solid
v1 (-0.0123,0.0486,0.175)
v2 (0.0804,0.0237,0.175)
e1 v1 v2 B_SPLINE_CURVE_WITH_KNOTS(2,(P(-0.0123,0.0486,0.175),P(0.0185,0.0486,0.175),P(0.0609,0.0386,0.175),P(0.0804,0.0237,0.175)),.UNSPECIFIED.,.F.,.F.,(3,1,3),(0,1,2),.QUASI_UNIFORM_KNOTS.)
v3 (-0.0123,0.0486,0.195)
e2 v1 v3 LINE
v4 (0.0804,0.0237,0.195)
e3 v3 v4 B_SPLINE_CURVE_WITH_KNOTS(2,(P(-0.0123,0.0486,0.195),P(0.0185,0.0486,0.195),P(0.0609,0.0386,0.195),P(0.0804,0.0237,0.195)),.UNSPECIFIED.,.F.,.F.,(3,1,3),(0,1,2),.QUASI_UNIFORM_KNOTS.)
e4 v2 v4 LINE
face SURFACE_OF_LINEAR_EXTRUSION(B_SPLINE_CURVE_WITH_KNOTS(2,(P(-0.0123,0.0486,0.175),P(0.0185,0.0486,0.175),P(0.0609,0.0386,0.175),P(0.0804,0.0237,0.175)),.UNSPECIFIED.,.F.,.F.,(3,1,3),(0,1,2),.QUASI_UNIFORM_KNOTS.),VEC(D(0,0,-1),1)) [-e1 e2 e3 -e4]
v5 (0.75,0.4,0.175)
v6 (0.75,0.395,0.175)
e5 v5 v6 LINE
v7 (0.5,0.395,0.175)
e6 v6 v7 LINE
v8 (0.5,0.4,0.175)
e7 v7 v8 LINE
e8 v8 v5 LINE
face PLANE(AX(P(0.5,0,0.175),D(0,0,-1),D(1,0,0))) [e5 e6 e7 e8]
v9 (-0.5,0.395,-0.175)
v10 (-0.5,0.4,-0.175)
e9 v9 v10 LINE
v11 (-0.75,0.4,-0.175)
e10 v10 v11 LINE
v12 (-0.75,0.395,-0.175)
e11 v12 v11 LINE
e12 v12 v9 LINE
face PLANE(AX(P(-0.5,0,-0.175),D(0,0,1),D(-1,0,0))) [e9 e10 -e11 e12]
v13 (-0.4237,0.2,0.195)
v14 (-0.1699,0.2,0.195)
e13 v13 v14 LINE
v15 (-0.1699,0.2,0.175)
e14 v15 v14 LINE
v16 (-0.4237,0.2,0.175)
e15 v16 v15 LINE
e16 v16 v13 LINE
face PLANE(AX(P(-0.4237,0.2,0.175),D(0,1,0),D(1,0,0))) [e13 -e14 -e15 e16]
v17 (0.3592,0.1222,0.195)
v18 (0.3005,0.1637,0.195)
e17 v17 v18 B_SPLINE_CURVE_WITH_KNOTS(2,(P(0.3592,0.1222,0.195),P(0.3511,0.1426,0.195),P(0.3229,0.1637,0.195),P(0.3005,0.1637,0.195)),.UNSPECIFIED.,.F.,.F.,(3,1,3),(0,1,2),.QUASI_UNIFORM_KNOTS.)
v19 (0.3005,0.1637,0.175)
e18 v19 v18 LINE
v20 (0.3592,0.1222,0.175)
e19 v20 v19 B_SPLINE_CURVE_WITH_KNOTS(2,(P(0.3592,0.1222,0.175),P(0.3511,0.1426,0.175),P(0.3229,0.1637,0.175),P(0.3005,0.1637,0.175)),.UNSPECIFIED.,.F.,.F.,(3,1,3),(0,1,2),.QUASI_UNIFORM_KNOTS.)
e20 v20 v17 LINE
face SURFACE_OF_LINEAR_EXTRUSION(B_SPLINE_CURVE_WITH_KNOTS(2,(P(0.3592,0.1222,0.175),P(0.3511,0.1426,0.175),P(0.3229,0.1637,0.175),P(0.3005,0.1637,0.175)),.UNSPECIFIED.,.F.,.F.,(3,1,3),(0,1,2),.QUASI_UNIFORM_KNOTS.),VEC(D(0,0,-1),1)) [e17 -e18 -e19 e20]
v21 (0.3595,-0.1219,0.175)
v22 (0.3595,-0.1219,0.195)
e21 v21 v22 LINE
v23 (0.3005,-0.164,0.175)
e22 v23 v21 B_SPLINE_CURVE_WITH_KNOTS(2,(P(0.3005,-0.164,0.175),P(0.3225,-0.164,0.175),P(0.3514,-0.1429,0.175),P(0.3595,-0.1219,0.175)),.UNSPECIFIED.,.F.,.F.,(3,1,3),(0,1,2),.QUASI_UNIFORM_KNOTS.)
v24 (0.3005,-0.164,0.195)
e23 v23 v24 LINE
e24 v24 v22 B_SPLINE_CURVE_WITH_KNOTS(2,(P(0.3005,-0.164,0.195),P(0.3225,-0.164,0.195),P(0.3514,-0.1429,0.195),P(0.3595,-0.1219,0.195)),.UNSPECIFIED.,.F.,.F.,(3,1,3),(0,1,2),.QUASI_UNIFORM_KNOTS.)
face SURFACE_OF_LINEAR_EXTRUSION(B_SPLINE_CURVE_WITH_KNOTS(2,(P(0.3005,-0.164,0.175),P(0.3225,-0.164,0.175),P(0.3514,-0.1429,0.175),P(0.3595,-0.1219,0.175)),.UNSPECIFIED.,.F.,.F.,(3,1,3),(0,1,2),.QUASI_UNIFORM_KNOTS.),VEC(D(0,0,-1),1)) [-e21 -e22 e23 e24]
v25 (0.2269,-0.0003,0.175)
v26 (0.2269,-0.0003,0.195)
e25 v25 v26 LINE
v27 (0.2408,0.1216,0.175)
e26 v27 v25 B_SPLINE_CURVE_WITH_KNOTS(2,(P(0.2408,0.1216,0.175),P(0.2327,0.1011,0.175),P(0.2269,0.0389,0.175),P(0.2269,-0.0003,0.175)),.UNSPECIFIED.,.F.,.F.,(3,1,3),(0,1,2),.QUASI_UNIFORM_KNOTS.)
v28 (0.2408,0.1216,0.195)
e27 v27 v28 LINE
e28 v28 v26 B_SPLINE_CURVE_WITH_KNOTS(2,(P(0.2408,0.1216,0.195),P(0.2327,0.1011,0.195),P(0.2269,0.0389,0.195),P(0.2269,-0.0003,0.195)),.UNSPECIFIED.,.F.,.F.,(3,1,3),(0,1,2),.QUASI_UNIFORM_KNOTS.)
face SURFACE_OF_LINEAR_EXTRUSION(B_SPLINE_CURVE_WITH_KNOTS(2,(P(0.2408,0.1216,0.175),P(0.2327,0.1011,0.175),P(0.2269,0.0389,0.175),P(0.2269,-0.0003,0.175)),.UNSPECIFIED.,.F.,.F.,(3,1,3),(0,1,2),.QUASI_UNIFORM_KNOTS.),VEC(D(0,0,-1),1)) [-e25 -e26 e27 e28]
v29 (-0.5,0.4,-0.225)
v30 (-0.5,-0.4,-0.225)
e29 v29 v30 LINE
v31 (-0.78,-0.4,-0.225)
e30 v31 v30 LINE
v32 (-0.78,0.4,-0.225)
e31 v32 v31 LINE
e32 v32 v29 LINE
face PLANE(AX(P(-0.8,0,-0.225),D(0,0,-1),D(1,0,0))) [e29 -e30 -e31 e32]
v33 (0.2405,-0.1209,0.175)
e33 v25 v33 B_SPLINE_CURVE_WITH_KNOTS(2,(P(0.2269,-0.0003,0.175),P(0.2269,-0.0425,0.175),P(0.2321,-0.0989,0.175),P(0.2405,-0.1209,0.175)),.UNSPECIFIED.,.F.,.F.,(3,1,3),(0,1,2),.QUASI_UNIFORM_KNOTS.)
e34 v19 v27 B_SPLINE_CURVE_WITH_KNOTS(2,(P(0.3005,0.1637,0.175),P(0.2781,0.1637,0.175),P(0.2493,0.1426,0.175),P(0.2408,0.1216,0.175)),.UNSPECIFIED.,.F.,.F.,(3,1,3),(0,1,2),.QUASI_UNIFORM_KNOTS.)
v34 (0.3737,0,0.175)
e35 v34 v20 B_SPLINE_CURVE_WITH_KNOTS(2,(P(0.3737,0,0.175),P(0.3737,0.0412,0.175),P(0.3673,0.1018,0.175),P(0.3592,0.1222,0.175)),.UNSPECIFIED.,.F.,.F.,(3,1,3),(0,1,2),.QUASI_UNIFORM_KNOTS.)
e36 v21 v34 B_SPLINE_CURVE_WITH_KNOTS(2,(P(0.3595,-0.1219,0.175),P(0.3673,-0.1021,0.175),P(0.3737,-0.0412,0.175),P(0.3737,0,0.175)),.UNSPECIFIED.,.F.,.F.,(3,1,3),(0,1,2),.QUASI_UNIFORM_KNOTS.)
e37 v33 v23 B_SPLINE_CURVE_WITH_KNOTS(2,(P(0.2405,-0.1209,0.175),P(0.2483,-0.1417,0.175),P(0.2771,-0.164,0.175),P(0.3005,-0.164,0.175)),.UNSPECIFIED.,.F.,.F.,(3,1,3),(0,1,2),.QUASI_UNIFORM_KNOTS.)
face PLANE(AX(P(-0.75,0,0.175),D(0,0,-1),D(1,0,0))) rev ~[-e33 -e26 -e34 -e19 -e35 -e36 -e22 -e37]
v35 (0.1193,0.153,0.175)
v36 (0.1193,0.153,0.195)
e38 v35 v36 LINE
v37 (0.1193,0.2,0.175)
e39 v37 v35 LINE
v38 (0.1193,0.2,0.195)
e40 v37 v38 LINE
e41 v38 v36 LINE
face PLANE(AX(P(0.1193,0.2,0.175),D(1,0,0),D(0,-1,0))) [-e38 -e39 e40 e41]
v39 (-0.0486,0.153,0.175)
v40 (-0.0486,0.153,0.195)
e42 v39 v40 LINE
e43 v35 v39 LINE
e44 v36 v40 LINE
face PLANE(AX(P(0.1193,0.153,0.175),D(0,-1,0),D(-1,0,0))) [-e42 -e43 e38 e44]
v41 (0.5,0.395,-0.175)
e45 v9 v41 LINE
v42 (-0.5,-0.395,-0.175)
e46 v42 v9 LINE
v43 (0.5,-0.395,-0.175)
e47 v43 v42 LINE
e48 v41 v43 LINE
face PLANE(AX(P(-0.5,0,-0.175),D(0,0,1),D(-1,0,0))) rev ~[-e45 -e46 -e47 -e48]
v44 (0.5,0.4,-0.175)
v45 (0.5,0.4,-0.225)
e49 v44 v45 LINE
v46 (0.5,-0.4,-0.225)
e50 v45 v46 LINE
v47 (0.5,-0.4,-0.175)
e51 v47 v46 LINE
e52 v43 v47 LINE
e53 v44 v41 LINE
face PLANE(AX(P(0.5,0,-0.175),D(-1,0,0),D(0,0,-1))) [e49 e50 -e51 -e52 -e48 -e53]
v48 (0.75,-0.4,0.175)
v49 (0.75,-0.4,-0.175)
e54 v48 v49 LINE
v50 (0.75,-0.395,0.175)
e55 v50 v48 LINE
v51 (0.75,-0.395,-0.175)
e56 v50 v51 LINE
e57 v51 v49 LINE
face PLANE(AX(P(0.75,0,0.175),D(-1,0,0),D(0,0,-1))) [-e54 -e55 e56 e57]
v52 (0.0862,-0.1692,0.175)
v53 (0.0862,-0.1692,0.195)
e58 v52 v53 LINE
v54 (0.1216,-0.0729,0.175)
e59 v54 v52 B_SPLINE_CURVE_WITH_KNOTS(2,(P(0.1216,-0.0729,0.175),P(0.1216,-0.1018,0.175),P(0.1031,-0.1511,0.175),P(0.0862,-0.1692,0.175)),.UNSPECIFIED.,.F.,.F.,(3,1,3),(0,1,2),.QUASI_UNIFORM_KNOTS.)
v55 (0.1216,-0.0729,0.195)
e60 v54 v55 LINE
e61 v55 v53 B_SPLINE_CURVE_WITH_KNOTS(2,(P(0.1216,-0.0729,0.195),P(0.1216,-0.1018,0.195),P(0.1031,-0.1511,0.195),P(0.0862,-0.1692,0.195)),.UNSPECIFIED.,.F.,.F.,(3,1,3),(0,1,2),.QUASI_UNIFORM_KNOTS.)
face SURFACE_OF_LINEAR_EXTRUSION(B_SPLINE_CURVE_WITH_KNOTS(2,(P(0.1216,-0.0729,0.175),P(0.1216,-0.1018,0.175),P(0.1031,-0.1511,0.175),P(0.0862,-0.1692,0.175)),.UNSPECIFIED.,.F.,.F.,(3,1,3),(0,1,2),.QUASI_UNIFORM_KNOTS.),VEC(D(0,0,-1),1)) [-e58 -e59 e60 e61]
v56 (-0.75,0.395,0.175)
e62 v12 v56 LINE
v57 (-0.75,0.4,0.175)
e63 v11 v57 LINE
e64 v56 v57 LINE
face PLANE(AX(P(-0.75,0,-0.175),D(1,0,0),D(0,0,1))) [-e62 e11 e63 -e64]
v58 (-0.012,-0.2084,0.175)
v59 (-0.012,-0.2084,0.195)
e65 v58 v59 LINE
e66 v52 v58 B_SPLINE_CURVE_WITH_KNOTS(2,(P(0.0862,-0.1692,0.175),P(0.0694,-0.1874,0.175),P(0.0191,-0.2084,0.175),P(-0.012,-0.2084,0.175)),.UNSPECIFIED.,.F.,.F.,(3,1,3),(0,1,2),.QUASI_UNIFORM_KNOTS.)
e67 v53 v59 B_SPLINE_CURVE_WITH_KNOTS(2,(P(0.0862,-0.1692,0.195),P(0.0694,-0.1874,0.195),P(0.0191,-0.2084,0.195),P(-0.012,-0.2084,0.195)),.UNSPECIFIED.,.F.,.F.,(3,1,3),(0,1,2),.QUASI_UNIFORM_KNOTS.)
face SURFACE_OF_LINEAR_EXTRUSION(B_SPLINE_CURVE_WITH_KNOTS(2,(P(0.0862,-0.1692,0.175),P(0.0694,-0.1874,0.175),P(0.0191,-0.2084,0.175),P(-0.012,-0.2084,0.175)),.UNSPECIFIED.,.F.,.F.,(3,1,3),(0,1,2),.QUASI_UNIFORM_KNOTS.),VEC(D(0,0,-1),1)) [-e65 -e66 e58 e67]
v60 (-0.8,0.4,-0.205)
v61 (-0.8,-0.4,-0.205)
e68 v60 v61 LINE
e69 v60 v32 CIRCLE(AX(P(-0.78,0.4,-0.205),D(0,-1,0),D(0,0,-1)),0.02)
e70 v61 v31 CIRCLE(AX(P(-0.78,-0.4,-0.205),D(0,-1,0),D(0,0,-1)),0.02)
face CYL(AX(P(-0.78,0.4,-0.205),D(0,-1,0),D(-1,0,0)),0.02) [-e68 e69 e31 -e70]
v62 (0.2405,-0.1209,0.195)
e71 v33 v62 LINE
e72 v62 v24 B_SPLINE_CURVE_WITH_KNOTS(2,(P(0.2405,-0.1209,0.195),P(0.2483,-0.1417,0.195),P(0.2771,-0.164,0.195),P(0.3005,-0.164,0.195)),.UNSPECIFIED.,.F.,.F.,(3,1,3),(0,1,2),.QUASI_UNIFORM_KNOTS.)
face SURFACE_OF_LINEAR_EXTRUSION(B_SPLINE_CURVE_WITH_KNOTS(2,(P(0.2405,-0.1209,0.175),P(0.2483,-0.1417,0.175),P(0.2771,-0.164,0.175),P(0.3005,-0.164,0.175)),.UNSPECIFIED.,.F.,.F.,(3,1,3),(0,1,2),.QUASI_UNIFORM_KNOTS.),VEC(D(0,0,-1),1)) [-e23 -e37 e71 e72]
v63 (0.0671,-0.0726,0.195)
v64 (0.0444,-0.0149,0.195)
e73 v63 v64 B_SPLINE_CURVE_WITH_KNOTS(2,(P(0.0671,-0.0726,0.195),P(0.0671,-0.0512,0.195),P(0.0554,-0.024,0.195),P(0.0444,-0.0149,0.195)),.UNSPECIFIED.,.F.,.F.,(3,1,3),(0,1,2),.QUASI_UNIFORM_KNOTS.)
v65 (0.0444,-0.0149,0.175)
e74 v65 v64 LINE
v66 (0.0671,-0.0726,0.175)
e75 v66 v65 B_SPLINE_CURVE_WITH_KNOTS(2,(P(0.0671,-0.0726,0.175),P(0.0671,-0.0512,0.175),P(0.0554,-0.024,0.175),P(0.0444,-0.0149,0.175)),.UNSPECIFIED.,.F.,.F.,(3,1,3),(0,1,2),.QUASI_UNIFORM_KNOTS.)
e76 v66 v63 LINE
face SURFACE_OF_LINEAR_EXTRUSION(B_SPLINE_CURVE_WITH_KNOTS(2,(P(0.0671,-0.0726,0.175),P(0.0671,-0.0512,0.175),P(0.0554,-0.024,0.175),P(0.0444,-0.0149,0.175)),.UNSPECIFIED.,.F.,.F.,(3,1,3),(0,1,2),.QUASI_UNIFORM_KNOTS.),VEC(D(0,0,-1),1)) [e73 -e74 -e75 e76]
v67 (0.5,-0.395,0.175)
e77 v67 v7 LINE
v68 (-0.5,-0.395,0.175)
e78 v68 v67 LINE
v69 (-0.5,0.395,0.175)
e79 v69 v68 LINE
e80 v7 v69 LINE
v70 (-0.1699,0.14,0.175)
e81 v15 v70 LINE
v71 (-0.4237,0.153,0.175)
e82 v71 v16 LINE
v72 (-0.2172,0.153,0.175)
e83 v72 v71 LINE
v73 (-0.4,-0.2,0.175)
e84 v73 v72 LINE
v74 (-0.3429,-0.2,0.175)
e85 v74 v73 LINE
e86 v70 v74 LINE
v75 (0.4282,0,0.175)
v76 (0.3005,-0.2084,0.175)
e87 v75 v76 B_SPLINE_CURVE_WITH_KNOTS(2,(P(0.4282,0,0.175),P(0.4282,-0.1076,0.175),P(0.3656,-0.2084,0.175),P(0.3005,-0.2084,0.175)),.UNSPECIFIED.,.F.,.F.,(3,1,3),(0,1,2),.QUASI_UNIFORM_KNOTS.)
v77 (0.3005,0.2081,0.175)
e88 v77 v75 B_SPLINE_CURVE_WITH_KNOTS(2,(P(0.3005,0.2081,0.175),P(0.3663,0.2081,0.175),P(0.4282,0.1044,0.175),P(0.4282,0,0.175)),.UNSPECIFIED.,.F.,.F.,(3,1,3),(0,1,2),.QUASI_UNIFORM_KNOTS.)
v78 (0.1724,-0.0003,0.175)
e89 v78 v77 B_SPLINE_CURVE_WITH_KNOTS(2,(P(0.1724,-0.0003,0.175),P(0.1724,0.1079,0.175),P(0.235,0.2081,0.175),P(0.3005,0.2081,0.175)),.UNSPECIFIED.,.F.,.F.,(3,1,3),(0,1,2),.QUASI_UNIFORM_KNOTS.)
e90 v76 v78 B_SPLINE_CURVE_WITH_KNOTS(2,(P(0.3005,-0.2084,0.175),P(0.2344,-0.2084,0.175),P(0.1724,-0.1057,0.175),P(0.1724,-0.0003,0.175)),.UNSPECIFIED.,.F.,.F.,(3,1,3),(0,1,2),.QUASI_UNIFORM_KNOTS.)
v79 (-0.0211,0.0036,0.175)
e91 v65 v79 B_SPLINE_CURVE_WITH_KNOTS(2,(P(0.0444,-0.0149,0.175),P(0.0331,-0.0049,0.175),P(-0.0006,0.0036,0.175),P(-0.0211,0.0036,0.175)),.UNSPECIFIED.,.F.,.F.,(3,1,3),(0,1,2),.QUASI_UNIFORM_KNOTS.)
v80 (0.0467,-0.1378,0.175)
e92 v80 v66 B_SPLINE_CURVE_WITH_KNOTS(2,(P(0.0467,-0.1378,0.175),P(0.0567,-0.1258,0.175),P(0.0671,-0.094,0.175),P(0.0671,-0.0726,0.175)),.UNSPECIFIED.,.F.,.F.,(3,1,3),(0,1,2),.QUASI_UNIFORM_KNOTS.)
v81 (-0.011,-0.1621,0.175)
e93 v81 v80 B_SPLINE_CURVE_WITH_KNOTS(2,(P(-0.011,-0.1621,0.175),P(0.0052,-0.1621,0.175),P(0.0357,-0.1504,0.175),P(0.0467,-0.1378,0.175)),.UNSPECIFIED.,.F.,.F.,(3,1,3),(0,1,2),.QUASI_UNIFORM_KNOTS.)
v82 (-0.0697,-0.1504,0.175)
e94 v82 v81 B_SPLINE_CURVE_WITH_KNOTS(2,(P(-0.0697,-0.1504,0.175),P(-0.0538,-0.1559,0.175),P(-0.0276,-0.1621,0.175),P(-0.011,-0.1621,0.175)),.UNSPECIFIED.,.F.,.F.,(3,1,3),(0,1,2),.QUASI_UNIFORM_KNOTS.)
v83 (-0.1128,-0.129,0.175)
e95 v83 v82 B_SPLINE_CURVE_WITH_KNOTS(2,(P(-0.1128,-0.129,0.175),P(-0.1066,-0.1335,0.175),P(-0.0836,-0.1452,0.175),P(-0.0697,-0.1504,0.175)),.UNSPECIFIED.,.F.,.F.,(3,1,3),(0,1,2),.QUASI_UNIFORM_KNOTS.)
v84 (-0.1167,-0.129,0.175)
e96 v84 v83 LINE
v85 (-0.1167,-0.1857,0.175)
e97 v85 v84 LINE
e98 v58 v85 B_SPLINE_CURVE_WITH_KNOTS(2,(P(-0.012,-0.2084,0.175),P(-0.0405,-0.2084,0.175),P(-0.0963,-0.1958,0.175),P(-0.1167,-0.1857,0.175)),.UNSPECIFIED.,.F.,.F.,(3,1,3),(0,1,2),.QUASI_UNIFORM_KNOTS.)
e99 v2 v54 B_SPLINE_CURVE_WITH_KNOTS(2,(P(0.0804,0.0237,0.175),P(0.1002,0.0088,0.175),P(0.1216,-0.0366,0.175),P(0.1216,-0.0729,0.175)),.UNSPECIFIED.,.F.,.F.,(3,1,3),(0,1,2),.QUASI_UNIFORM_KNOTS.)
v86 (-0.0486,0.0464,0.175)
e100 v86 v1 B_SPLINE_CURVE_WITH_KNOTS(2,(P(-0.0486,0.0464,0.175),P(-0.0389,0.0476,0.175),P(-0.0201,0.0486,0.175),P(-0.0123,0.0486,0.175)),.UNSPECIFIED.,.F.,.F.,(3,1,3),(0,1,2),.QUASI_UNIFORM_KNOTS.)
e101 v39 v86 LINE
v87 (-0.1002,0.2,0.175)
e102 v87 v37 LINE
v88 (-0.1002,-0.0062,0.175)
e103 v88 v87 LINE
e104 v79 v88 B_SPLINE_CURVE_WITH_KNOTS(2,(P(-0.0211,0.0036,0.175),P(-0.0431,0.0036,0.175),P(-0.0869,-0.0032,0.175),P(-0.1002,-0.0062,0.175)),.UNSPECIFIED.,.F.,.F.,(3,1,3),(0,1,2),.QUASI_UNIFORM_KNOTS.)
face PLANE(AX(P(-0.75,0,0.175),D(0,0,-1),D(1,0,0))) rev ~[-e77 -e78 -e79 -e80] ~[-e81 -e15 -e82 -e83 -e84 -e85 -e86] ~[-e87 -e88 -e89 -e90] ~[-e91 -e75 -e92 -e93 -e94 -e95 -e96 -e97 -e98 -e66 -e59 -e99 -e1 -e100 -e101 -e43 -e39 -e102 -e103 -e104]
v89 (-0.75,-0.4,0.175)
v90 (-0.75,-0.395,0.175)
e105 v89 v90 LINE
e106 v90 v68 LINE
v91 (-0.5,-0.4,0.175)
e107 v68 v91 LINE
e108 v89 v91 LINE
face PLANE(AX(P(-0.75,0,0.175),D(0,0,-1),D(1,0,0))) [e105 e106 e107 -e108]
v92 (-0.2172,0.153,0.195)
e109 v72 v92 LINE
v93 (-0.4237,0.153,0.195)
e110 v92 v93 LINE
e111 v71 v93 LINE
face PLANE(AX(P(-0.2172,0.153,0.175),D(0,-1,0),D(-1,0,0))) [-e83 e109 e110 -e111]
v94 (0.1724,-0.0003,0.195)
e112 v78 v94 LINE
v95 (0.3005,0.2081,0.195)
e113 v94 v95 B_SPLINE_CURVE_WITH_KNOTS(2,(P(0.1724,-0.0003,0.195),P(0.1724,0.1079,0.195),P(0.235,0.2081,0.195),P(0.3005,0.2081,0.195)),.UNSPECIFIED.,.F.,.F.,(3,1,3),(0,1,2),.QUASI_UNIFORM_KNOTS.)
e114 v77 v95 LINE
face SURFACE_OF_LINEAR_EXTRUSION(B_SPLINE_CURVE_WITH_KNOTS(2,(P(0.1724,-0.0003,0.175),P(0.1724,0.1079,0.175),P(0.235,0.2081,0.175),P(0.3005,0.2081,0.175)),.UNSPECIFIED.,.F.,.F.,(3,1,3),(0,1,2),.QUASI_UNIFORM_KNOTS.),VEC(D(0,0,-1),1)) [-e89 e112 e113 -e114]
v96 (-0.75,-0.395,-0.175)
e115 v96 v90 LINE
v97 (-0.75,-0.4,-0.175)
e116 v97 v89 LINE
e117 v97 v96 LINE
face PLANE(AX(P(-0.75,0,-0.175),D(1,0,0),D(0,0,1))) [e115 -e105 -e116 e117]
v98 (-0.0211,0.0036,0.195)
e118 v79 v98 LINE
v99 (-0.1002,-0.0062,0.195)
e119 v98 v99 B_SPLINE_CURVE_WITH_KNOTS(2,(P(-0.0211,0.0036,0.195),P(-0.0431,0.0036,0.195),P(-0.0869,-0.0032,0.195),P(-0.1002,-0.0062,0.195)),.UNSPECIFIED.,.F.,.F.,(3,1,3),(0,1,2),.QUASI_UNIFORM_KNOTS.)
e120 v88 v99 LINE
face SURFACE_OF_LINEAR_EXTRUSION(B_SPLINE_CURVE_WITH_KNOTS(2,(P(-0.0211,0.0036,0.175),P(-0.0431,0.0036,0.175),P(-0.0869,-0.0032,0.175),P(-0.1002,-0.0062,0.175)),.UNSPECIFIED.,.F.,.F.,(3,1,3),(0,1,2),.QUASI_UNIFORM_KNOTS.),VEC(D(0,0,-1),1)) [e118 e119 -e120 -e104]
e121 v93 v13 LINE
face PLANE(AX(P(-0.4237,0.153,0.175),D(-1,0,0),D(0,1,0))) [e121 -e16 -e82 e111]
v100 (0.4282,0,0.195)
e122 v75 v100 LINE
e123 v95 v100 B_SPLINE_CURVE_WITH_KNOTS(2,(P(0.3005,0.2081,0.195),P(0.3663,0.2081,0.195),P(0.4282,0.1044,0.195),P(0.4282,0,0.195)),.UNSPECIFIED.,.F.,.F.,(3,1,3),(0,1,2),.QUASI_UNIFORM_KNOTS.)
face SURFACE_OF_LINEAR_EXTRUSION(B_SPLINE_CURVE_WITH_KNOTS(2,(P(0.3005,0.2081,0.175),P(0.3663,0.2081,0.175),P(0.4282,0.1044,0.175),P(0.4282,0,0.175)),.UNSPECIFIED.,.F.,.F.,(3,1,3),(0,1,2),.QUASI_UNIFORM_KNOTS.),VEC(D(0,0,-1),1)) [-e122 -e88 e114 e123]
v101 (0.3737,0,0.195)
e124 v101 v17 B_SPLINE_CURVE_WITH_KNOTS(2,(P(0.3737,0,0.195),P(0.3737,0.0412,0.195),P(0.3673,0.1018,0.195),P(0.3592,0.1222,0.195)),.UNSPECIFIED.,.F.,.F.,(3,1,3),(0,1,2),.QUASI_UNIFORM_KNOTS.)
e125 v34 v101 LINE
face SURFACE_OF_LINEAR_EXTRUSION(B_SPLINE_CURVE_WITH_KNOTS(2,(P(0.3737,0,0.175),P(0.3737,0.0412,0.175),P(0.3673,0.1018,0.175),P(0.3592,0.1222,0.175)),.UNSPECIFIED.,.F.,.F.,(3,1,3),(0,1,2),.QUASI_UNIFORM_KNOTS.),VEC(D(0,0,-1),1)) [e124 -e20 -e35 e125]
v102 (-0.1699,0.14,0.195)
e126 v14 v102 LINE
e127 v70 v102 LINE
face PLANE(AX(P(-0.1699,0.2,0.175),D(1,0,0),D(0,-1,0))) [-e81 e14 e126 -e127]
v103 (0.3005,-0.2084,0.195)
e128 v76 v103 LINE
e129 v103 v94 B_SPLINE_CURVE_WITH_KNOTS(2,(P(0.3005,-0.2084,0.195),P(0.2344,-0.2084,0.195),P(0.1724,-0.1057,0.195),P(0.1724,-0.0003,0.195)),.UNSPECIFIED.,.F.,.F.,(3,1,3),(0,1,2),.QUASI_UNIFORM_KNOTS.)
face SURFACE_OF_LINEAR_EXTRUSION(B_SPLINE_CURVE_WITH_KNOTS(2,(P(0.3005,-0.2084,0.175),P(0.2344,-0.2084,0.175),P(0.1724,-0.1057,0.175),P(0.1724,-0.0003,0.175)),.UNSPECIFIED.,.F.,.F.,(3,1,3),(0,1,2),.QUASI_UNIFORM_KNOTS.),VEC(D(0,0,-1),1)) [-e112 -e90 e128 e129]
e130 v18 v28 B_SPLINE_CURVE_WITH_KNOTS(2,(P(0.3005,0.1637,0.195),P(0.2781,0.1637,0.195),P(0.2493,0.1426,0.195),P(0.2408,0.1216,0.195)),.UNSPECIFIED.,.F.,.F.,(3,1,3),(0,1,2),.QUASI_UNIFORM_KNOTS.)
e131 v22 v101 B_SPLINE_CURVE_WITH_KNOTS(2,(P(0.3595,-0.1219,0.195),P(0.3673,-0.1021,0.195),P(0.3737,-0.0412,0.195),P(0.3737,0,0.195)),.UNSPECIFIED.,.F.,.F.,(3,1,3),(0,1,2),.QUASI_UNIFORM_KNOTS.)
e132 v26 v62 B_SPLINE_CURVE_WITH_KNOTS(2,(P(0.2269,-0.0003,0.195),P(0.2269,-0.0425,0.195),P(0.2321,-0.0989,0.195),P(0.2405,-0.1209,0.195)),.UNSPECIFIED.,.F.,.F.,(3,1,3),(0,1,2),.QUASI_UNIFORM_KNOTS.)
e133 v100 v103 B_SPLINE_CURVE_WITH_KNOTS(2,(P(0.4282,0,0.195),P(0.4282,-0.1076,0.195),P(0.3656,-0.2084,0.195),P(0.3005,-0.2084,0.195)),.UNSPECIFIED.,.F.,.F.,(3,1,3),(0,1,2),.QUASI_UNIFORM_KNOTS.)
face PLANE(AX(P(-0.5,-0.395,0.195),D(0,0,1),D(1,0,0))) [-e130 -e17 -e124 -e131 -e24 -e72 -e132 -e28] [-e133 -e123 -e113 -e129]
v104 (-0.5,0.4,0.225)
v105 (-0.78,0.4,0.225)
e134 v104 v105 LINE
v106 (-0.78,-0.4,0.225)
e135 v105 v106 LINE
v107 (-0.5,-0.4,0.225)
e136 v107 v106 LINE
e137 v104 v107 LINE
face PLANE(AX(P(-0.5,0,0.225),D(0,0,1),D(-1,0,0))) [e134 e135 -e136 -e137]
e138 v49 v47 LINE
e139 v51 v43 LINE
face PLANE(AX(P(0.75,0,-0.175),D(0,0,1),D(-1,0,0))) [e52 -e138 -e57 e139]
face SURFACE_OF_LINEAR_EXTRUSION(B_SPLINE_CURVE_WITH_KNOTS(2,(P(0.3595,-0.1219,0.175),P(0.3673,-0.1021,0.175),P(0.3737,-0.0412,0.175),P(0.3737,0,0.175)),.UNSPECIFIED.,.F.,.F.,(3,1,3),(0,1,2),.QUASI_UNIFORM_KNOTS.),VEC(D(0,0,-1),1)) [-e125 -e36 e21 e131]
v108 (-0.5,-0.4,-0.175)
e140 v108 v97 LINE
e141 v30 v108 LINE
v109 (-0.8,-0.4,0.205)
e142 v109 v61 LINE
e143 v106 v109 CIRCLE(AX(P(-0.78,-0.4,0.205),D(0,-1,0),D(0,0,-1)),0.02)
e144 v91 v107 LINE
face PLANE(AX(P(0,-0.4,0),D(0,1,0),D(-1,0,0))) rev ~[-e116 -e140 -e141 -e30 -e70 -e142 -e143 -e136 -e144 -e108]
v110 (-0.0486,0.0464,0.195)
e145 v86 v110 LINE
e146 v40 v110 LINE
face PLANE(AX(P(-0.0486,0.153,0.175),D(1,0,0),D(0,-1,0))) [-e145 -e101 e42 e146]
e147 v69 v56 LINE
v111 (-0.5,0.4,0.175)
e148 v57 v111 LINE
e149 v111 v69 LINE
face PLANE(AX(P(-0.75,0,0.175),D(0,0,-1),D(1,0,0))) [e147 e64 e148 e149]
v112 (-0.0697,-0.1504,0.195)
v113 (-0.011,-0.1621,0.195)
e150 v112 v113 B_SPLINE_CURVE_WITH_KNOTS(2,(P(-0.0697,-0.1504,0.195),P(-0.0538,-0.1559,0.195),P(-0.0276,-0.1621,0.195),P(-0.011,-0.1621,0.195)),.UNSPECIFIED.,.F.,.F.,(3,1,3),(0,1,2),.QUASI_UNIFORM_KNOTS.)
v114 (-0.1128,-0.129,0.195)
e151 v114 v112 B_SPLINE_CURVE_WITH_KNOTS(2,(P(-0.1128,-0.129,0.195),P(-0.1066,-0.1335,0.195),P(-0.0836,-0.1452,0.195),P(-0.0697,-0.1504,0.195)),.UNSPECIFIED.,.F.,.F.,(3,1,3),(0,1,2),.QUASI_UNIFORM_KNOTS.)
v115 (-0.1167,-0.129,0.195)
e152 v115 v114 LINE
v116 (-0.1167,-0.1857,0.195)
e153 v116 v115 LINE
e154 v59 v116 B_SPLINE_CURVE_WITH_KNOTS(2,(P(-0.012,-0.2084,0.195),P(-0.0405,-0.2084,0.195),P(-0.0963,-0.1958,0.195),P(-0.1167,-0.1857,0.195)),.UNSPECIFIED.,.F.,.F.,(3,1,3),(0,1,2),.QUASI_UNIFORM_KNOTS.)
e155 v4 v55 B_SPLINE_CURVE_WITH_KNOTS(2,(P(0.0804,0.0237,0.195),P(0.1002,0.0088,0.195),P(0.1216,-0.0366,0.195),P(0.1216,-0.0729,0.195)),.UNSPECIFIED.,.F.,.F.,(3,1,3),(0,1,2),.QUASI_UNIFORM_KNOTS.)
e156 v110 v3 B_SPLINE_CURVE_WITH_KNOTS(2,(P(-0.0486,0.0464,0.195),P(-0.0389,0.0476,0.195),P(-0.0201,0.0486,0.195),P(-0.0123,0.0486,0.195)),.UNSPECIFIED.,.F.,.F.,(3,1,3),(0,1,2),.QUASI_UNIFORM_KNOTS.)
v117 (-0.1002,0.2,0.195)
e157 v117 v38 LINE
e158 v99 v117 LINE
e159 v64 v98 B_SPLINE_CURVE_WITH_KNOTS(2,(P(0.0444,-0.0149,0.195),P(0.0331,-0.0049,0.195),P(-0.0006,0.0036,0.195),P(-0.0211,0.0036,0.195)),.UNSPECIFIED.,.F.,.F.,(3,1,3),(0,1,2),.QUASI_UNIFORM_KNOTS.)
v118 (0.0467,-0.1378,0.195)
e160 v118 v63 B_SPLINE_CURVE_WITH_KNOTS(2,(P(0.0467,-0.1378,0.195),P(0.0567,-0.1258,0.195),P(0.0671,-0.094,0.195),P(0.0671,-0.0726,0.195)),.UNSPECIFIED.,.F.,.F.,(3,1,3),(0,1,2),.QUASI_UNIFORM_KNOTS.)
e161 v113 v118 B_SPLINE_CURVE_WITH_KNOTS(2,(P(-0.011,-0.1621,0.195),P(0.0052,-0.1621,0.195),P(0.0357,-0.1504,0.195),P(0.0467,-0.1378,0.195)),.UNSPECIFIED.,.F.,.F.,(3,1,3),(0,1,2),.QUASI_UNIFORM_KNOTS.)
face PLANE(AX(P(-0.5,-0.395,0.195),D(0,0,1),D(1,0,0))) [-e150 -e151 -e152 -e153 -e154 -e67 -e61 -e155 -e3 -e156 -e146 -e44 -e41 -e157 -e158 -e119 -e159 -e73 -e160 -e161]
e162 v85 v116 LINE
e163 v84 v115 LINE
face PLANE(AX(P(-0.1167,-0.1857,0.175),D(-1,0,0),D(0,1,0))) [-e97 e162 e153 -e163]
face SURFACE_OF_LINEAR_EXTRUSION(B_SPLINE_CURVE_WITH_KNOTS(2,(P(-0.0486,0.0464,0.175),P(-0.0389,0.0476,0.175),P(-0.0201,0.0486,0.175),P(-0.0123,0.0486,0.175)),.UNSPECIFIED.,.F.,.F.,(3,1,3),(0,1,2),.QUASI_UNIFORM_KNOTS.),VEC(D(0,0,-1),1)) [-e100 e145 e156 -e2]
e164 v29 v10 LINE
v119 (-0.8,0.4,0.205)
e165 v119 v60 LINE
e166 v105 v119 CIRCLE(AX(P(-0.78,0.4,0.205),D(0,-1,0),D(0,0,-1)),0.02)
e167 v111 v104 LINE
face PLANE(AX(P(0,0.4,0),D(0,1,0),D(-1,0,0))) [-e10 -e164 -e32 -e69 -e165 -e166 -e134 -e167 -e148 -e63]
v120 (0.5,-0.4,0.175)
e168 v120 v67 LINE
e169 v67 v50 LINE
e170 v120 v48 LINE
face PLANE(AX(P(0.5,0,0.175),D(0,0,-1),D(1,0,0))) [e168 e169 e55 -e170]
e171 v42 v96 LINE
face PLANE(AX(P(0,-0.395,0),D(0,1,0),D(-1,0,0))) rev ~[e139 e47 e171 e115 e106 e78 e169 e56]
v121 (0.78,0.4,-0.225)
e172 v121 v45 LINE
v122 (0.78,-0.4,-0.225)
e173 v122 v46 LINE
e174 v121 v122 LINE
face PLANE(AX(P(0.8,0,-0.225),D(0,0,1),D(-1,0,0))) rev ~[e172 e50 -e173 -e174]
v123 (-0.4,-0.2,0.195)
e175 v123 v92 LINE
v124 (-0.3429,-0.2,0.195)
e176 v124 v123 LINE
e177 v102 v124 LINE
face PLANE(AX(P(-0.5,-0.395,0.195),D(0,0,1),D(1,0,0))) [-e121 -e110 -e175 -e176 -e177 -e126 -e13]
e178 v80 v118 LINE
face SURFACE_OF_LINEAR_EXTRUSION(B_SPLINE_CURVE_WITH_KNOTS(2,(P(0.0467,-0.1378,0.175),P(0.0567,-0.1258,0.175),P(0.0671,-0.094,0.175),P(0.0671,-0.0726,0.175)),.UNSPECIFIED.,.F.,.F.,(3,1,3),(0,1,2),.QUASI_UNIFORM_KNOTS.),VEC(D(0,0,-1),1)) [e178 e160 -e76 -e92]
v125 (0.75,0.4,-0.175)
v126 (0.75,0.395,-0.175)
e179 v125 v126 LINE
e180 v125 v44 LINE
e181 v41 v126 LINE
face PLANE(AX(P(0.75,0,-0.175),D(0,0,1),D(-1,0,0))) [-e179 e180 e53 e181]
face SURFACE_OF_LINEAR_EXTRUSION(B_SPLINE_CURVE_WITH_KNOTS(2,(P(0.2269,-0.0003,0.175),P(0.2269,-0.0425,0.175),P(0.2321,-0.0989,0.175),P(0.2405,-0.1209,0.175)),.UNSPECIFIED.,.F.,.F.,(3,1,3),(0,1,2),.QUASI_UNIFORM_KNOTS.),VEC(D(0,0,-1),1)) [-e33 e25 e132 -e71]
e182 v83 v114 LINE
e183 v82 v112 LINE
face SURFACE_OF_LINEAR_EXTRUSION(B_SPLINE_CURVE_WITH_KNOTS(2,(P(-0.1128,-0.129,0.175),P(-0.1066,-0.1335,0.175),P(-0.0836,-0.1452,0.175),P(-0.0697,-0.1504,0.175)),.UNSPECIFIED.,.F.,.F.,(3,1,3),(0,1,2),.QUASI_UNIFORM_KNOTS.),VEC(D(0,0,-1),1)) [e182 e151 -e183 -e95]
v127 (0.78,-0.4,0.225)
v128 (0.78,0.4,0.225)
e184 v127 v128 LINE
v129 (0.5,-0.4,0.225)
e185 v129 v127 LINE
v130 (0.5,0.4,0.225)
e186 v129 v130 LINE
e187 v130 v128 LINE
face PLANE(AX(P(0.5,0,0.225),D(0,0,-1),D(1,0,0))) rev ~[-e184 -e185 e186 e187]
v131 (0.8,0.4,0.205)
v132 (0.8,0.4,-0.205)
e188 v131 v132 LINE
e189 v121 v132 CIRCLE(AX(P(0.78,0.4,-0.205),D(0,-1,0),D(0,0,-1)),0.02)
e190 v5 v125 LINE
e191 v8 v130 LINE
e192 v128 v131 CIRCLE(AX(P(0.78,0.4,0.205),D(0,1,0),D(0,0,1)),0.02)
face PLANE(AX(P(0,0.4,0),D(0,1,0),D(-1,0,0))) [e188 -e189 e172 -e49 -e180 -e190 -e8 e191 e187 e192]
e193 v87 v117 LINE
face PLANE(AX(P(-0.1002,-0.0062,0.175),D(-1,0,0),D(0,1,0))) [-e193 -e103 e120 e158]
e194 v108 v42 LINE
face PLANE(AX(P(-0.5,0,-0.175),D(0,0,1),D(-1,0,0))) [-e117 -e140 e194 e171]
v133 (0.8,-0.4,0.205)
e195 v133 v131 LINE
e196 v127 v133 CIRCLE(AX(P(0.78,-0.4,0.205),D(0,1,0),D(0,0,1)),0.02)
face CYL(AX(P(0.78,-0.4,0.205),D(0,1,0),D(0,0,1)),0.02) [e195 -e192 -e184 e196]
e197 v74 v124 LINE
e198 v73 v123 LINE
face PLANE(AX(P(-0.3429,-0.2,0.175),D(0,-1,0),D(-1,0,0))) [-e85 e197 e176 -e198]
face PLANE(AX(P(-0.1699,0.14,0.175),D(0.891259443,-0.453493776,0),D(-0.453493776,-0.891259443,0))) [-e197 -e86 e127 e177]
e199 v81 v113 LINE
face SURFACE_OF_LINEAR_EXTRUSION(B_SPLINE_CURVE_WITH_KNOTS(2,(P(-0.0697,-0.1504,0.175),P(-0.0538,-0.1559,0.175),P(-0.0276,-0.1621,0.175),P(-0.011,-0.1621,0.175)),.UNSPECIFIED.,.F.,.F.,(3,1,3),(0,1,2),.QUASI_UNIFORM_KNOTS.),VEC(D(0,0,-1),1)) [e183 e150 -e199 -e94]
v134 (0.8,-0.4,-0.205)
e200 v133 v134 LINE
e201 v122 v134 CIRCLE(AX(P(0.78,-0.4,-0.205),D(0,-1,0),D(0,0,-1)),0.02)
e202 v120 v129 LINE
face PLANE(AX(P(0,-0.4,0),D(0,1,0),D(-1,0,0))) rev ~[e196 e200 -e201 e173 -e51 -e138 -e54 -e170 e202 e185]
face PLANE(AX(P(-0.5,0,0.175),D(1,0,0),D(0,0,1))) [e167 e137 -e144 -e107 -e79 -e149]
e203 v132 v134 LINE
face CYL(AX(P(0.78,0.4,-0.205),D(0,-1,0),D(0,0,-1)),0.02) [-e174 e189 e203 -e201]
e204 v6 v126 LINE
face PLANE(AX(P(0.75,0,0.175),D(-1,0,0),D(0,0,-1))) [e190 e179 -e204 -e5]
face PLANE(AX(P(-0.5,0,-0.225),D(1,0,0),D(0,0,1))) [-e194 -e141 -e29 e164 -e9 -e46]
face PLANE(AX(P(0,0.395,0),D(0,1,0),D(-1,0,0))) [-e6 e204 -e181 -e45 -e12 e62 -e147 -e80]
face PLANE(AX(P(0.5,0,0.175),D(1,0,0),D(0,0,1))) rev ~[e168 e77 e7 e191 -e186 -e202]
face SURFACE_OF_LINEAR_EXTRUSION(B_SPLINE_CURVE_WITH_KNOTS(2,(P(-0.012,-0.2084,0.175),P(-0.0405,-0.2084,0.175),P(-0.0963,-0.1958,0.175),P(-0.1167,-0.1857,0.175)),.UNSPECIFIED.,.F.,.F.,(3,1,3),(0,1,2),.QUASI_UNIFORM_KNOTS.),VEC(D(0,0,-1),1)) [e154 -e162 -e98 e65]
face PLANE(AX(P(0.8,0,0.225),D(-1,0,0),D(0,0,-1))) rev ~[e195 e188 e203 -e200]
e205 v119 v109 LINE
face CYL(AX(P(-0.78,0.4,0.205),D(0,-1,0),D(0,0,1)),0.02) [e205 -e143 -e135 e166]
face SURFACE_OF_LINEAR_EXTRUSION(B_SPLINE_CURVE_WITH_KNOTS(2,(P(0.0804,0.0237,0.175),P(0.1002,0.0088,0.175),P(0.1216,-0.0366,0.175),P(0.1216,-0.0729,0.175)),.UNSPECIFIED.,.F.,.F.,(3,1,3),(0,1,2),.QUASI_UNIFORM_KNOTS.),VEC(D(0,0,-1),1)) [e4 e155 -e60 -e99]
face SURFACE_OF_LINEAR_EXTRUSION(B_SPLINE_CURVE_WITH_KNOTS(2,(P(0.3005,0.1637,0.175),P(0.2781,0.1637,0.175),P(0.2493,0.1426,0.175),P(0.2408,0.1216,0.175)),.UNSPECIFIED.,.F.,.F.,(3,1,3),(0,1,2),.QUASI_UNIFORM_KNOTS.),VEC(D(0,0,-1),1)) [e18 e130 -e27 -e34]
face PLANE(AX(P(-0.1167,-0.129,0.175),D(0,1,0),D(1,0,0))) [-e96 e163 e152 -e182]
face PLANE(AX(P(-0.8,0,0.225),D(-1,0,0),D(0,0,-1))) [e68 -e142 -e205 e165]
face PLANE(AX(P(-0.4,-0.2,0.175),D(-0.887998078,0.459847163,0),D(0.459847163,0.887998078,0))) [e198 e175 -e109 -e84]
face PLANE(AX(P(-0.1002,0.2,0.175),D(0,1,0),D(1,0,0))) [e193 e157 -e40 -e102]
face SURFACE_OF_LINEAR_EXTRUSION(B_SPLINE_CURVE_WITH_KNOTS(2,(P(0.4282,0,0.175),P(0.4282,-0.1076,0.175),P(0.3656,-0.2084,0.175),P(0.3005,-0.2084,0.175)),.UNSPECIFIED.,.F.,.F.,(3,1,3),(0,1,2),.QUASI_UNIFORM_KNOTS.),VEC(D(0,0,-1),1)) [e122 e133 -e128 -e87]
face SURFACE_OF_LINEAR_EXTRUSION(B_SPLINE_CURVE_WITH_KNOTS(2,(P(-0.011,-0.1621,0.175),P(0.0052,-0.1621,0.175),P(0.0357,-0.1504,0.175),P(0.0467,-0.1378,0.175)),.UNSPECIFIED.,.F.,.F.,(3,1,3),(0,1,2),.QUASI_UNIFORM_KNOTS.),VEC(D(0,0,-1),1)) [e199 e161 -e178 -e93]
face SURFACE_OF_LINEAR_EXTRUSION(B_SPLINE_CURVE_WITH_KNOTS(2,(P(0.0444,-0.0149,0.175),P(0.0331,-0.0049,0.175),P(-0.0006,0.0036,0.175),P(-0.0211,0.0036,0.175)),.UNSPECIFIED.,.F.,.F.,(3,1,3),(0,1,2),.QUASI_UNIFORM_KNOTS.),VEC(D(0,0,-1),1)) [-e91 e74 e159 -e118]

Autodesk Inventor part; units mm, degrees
ref_plane "YZ Plane" through (0, 0, 0) normal (1, 0, 0) x (0, 1, 0)
ref_plane "XZ Plane" through (0, 0, 0) normal (0, 1, 0) x (-1, 0, 0)
ref_plane "XY Plane" through (0, 0, 0) normal (0, 0, 1) x (1, 0, 0)
sketch "Sketch1" plane through (0, 0, 0) normal (0, 1, 0) x (-1, 0, 0)
  line L0 (0.75, 0.175) -> (-0.75, 0.175)
  line L1 (-0.75, 0.175) -> (-0.75, -0.175)
  line L2 (-0.75, -0.175) -> (0.75, -0.175)
  line L3 (0.75, -0.175) -> (0.75, 0.175)
  line L4 (0.5, 0.175) -> (0.5, 0.225)
  line L5 (0.5, 0.225) -> (0.8, 0.225)
  line L6 (0.8, 0.225) -> (0.8, -0.225)
  line L7 (0.8, -0.225) -> (0.5, -0.225)
  line L8 (0.5, -0.225) -> (0.5, -0.175)
  line L9 (-0.5, 0.175) -> (-0.5, 0.225)
  line L10 (-0.5, 0.225) -> (-0.8, 0.225)
  line L11 (-0.8, 0.225) -> (-0.8, -0.225)
  line L12 (-0.8, -0.225) -> (-0.5, -0.225)
  line L13 (-0.5, -0.175) -> (-0.5, -0.225)
  line L14 (0.5, 0.175) -> (-0.5, 0.175)
  point P0 (0, 0)
  point P1 (0, 0.175)
  point P2 (0.75, 0)
  dimension "d0" = 1.6
  dimension "d1" = 0.05
  dimension "d2" = 0.05
  dimension "d3" = 0.45
  dimension "d4" = 0.3
extrude "Extrusion1" add sketch "Sketch1" along normal mid plane 0.8 contours L0 L4 L5 L6 L7 L8 L2 L3 | L0 L1 L2 L13 L12 L11 L10 L9
extrude "Extrusion2" add sketch "Sketch1" along normal mid plane 0.79 contours L3 L2 L1 L0
sketch "Sketch2" plane through (-0.5, -0.395, 0.175) normal (0, 0, 1) x (1, 0, 0)
  line L0 (0, 0) -> (0, 0.79) projected
  line L1 (1, 0) -> (0, 0) projected
  line L2 (1, 0) -> (1, 0.79) projected
  line L3 (0, 0.79) -> (1, 0.79) projected
  line L4 (0, 0.395) -> (1, 0.395) construction
  line L5 (0.3301, 0.535) -> (0.1571, 0.195)
  line L6 (0.1571, 0.195) -> (0.1, 0.195)
  line L7 (0.1, 0.195) -> (0.2828, 0.548)
  line L8 (0.2828, 0.548) -> (0.0763, 0.548)
  line L9 (0.0763, 0.548) -> (0.0763, 0.595)
  line L10 (0.0763, 0.595) -> (0.3301, 0.595)
  line L11 (0.3301, 0.595) -> (0.3301, 0.535)
  spline S0 degree 2 poles (0.6216, 0.3221) (0.6216, 0.2932) (0.6031, 0.2439) (0.5862, 0.2258) knots 0 0 0 1 2 2 2
  spline S1 degree 2 poles (0.5862, 0.2258) (0.5694, 0.2076) (0.5191, 0.1866) (0.488, 0.1866) knots 0 0 0 1 2 2 2
  spline S2 degree 2 poles (0.488, 0.1866) (0.4595, 0.1866) (0.4037, 0.1992) (0.3833, 0.2093) knots 0 0 0 1 2 2 2
  line L12 (0.3833, 0.2093) -> (0.3833, 0.266)
  line L13 (0.3833, 0.266) -> (0.3872, 0.266)
  spline S3 degree 2 poles (0.3872, 0.266) (0.3934, 0.2615) (0.4164, 0.2498) (0.4303, 0.2446) knots 0 0 0 1 2 2 2
  spline S4 degree 2 poles (0.4303, 0.2446) (0.4462, 0.2391) (0.4724, 0.2329) (0.489, 0.2329) knots 0 0 0 1 2 2 2
  spline S5 degree 2 poles (0.489, 0.2329) (0.5052, 0.2329) (0.5357, 0.2446) (0.5467, 0.2572) knots 0 0 0 1 2 2 2
  spline S6 degree 2 poles (0.5467, 0.2572) (0.5567, 0.2692) (0.5671, 0.301) (0.5671, 0.3224) knots 0 0 0 1 2 2 2
  spline S7 degree 2 poles (0.5671, 0.3224) (0.5671, 0.3438) (0.5554, 0.371) (0.5444, 0.3801) knots 0 0 0 1 2 2 2
  spline S8 degree 2 poles (0.5444, 0.3801) (0.5331, 0.3901) (0.4994, 0.3986) (0.4789, 0.3986) knots 0 0 0 1 2 2 2
  spline S9 degree 2 poles (0.4789, 0.3986) (0.4569, 0.3986) (0.4131, 0.3918) (0.3998, 0.3888) knots 0 0 0 1 2 2 2
  line L14 (0.3998, 0.3888) -> (0.3998, 0.595)
  line L15 (0.3998, 0.595) -> (0.6193, 0.595)
  line L16 (0.6193, 0.595) -> (0.6193, 0.548)
  line L17 (0.6193, 0.548) -> (0.4514, 0.548)
  line L18 (0.4514, 0.548) -> (0.4514, 0.4414)
  spline S10 degree 2 poles (0.4514, 0.4414) (0.4611, 0.4426) (0.4799, 0.4436) (0.4877, 0.4436) knots 0 0 0 1 2 2 2
  spline S11 degree 2 poles (0.4877, 0.4436) (0.5185, 0.4436) (0.5609, 0.4336) (0.5804, 0.4187) knots 0 0 0 1 2 2 2
  spline S12 degree 2 poles (0.5804, 0.4187) (0.6002, 0.4038) (0.6216, 0.3584) (0.6216, 0.3221) knots 0 0 0 1 2 2 2
  spline S13 degree 2 poles (0.9282, 0.395) (0.9282, 0.2874) (0.8656, 0.1866) (0.8005, 0.1866) knots 0 0 0 1 2 2 2
  spline S14 degree 2 poles (0.8005, 0.1866) (0.7344, 0.1866) (0.6724, 0.2893) (0.6724, 0.3947) knots 0 0 0 1 2 2 2
  spline S15 degree 2 poles (0.6724, 0.3947) (0.6724, 0.5029) (0.735, 0.6031) (0.8005, 0.6031) knots 0 0 0 1 2 2 2
  spline S16 degree 2 poles (0.8005, 0.6031) (0.8663, 0.6031) (0.9282, 0.4994) (0.9282, 0.395) knots 0 0 0 1 2 2 2
  spline S17 degree 2 poles (0.8595, 0.2731) (0.8673, 0.2929) (0.8737, 0.3538) (0.8737, 0.395) knots 0 0 0 1 2 2 2
  spline S18 degree 2 poles (0.8737, 0.395) (0.8737, 0.4362) (0.8673, 0.4968) (0.8592, 0.5172) knots 0 0 0 1 2 2 2
  spline S19 degree 2 poles (0.8592, 0.5172) (0.8511, 0.5376) (0.8229, 0.5587) (0.8005, 0.5587) knots 0 0 0 1 2 2 2
  spline S20 degree 2 poles (0.8005, 0.5587) (0.7781, 0.5587) (0.7493, 0.5376) (0.7408, 0.5166) knots 0 0 0 1 2 2 2
  spline S21 degree 2 poles (0.7408, 0.5166) (0.7327, 0.4961) (0.7269, 0.4339) (0.7269, 0.3947) knots 0 0 0 1 2 2 2
  spline S22 degree 2 poles (0.7269, 0.3947) (0.7269, 0.3525) (0.7321, 0.2961) (0.7405, 0.2741) knots 0 0 0 1 2 2 2
  spline S23 degree 2 poles (0.7405, 0.2741) (0.7483, 0.2533) (0.7771, 0.231) (0.8005, 0.231) knots 0 0 0 1 2 2 2
  spline S24 degree 2 poles (0.8005, 0.231) (0.8225, 0.231) (0.8514, 0.2521) (0.8595, 0.2731) knots 0 0 0 1 2 2 2
  point P0 (0.5, 0.395)
extrude "Extrusion3" add sketch "Sketch2" along normal blind 0.02 contours L5 L6 L7 L8 L9 L10 L11 | S0 S1 S2 L12 L13 S3 S4 S5 S6 S7 S8 S9 L14 L15 L16 L17 L18 S10 S11 S12 | S13 S14 S15 S16
fillet "Fillet1" radius 0.02 4 edges at (-0.8, 0, 0.225) (-0.8, 0, -0.225) (0.8, 0, 0.225) (0.8, 0, -0.225)
equation "\"d2\" = d1"
properties part number "21-1001" material "Copper"
